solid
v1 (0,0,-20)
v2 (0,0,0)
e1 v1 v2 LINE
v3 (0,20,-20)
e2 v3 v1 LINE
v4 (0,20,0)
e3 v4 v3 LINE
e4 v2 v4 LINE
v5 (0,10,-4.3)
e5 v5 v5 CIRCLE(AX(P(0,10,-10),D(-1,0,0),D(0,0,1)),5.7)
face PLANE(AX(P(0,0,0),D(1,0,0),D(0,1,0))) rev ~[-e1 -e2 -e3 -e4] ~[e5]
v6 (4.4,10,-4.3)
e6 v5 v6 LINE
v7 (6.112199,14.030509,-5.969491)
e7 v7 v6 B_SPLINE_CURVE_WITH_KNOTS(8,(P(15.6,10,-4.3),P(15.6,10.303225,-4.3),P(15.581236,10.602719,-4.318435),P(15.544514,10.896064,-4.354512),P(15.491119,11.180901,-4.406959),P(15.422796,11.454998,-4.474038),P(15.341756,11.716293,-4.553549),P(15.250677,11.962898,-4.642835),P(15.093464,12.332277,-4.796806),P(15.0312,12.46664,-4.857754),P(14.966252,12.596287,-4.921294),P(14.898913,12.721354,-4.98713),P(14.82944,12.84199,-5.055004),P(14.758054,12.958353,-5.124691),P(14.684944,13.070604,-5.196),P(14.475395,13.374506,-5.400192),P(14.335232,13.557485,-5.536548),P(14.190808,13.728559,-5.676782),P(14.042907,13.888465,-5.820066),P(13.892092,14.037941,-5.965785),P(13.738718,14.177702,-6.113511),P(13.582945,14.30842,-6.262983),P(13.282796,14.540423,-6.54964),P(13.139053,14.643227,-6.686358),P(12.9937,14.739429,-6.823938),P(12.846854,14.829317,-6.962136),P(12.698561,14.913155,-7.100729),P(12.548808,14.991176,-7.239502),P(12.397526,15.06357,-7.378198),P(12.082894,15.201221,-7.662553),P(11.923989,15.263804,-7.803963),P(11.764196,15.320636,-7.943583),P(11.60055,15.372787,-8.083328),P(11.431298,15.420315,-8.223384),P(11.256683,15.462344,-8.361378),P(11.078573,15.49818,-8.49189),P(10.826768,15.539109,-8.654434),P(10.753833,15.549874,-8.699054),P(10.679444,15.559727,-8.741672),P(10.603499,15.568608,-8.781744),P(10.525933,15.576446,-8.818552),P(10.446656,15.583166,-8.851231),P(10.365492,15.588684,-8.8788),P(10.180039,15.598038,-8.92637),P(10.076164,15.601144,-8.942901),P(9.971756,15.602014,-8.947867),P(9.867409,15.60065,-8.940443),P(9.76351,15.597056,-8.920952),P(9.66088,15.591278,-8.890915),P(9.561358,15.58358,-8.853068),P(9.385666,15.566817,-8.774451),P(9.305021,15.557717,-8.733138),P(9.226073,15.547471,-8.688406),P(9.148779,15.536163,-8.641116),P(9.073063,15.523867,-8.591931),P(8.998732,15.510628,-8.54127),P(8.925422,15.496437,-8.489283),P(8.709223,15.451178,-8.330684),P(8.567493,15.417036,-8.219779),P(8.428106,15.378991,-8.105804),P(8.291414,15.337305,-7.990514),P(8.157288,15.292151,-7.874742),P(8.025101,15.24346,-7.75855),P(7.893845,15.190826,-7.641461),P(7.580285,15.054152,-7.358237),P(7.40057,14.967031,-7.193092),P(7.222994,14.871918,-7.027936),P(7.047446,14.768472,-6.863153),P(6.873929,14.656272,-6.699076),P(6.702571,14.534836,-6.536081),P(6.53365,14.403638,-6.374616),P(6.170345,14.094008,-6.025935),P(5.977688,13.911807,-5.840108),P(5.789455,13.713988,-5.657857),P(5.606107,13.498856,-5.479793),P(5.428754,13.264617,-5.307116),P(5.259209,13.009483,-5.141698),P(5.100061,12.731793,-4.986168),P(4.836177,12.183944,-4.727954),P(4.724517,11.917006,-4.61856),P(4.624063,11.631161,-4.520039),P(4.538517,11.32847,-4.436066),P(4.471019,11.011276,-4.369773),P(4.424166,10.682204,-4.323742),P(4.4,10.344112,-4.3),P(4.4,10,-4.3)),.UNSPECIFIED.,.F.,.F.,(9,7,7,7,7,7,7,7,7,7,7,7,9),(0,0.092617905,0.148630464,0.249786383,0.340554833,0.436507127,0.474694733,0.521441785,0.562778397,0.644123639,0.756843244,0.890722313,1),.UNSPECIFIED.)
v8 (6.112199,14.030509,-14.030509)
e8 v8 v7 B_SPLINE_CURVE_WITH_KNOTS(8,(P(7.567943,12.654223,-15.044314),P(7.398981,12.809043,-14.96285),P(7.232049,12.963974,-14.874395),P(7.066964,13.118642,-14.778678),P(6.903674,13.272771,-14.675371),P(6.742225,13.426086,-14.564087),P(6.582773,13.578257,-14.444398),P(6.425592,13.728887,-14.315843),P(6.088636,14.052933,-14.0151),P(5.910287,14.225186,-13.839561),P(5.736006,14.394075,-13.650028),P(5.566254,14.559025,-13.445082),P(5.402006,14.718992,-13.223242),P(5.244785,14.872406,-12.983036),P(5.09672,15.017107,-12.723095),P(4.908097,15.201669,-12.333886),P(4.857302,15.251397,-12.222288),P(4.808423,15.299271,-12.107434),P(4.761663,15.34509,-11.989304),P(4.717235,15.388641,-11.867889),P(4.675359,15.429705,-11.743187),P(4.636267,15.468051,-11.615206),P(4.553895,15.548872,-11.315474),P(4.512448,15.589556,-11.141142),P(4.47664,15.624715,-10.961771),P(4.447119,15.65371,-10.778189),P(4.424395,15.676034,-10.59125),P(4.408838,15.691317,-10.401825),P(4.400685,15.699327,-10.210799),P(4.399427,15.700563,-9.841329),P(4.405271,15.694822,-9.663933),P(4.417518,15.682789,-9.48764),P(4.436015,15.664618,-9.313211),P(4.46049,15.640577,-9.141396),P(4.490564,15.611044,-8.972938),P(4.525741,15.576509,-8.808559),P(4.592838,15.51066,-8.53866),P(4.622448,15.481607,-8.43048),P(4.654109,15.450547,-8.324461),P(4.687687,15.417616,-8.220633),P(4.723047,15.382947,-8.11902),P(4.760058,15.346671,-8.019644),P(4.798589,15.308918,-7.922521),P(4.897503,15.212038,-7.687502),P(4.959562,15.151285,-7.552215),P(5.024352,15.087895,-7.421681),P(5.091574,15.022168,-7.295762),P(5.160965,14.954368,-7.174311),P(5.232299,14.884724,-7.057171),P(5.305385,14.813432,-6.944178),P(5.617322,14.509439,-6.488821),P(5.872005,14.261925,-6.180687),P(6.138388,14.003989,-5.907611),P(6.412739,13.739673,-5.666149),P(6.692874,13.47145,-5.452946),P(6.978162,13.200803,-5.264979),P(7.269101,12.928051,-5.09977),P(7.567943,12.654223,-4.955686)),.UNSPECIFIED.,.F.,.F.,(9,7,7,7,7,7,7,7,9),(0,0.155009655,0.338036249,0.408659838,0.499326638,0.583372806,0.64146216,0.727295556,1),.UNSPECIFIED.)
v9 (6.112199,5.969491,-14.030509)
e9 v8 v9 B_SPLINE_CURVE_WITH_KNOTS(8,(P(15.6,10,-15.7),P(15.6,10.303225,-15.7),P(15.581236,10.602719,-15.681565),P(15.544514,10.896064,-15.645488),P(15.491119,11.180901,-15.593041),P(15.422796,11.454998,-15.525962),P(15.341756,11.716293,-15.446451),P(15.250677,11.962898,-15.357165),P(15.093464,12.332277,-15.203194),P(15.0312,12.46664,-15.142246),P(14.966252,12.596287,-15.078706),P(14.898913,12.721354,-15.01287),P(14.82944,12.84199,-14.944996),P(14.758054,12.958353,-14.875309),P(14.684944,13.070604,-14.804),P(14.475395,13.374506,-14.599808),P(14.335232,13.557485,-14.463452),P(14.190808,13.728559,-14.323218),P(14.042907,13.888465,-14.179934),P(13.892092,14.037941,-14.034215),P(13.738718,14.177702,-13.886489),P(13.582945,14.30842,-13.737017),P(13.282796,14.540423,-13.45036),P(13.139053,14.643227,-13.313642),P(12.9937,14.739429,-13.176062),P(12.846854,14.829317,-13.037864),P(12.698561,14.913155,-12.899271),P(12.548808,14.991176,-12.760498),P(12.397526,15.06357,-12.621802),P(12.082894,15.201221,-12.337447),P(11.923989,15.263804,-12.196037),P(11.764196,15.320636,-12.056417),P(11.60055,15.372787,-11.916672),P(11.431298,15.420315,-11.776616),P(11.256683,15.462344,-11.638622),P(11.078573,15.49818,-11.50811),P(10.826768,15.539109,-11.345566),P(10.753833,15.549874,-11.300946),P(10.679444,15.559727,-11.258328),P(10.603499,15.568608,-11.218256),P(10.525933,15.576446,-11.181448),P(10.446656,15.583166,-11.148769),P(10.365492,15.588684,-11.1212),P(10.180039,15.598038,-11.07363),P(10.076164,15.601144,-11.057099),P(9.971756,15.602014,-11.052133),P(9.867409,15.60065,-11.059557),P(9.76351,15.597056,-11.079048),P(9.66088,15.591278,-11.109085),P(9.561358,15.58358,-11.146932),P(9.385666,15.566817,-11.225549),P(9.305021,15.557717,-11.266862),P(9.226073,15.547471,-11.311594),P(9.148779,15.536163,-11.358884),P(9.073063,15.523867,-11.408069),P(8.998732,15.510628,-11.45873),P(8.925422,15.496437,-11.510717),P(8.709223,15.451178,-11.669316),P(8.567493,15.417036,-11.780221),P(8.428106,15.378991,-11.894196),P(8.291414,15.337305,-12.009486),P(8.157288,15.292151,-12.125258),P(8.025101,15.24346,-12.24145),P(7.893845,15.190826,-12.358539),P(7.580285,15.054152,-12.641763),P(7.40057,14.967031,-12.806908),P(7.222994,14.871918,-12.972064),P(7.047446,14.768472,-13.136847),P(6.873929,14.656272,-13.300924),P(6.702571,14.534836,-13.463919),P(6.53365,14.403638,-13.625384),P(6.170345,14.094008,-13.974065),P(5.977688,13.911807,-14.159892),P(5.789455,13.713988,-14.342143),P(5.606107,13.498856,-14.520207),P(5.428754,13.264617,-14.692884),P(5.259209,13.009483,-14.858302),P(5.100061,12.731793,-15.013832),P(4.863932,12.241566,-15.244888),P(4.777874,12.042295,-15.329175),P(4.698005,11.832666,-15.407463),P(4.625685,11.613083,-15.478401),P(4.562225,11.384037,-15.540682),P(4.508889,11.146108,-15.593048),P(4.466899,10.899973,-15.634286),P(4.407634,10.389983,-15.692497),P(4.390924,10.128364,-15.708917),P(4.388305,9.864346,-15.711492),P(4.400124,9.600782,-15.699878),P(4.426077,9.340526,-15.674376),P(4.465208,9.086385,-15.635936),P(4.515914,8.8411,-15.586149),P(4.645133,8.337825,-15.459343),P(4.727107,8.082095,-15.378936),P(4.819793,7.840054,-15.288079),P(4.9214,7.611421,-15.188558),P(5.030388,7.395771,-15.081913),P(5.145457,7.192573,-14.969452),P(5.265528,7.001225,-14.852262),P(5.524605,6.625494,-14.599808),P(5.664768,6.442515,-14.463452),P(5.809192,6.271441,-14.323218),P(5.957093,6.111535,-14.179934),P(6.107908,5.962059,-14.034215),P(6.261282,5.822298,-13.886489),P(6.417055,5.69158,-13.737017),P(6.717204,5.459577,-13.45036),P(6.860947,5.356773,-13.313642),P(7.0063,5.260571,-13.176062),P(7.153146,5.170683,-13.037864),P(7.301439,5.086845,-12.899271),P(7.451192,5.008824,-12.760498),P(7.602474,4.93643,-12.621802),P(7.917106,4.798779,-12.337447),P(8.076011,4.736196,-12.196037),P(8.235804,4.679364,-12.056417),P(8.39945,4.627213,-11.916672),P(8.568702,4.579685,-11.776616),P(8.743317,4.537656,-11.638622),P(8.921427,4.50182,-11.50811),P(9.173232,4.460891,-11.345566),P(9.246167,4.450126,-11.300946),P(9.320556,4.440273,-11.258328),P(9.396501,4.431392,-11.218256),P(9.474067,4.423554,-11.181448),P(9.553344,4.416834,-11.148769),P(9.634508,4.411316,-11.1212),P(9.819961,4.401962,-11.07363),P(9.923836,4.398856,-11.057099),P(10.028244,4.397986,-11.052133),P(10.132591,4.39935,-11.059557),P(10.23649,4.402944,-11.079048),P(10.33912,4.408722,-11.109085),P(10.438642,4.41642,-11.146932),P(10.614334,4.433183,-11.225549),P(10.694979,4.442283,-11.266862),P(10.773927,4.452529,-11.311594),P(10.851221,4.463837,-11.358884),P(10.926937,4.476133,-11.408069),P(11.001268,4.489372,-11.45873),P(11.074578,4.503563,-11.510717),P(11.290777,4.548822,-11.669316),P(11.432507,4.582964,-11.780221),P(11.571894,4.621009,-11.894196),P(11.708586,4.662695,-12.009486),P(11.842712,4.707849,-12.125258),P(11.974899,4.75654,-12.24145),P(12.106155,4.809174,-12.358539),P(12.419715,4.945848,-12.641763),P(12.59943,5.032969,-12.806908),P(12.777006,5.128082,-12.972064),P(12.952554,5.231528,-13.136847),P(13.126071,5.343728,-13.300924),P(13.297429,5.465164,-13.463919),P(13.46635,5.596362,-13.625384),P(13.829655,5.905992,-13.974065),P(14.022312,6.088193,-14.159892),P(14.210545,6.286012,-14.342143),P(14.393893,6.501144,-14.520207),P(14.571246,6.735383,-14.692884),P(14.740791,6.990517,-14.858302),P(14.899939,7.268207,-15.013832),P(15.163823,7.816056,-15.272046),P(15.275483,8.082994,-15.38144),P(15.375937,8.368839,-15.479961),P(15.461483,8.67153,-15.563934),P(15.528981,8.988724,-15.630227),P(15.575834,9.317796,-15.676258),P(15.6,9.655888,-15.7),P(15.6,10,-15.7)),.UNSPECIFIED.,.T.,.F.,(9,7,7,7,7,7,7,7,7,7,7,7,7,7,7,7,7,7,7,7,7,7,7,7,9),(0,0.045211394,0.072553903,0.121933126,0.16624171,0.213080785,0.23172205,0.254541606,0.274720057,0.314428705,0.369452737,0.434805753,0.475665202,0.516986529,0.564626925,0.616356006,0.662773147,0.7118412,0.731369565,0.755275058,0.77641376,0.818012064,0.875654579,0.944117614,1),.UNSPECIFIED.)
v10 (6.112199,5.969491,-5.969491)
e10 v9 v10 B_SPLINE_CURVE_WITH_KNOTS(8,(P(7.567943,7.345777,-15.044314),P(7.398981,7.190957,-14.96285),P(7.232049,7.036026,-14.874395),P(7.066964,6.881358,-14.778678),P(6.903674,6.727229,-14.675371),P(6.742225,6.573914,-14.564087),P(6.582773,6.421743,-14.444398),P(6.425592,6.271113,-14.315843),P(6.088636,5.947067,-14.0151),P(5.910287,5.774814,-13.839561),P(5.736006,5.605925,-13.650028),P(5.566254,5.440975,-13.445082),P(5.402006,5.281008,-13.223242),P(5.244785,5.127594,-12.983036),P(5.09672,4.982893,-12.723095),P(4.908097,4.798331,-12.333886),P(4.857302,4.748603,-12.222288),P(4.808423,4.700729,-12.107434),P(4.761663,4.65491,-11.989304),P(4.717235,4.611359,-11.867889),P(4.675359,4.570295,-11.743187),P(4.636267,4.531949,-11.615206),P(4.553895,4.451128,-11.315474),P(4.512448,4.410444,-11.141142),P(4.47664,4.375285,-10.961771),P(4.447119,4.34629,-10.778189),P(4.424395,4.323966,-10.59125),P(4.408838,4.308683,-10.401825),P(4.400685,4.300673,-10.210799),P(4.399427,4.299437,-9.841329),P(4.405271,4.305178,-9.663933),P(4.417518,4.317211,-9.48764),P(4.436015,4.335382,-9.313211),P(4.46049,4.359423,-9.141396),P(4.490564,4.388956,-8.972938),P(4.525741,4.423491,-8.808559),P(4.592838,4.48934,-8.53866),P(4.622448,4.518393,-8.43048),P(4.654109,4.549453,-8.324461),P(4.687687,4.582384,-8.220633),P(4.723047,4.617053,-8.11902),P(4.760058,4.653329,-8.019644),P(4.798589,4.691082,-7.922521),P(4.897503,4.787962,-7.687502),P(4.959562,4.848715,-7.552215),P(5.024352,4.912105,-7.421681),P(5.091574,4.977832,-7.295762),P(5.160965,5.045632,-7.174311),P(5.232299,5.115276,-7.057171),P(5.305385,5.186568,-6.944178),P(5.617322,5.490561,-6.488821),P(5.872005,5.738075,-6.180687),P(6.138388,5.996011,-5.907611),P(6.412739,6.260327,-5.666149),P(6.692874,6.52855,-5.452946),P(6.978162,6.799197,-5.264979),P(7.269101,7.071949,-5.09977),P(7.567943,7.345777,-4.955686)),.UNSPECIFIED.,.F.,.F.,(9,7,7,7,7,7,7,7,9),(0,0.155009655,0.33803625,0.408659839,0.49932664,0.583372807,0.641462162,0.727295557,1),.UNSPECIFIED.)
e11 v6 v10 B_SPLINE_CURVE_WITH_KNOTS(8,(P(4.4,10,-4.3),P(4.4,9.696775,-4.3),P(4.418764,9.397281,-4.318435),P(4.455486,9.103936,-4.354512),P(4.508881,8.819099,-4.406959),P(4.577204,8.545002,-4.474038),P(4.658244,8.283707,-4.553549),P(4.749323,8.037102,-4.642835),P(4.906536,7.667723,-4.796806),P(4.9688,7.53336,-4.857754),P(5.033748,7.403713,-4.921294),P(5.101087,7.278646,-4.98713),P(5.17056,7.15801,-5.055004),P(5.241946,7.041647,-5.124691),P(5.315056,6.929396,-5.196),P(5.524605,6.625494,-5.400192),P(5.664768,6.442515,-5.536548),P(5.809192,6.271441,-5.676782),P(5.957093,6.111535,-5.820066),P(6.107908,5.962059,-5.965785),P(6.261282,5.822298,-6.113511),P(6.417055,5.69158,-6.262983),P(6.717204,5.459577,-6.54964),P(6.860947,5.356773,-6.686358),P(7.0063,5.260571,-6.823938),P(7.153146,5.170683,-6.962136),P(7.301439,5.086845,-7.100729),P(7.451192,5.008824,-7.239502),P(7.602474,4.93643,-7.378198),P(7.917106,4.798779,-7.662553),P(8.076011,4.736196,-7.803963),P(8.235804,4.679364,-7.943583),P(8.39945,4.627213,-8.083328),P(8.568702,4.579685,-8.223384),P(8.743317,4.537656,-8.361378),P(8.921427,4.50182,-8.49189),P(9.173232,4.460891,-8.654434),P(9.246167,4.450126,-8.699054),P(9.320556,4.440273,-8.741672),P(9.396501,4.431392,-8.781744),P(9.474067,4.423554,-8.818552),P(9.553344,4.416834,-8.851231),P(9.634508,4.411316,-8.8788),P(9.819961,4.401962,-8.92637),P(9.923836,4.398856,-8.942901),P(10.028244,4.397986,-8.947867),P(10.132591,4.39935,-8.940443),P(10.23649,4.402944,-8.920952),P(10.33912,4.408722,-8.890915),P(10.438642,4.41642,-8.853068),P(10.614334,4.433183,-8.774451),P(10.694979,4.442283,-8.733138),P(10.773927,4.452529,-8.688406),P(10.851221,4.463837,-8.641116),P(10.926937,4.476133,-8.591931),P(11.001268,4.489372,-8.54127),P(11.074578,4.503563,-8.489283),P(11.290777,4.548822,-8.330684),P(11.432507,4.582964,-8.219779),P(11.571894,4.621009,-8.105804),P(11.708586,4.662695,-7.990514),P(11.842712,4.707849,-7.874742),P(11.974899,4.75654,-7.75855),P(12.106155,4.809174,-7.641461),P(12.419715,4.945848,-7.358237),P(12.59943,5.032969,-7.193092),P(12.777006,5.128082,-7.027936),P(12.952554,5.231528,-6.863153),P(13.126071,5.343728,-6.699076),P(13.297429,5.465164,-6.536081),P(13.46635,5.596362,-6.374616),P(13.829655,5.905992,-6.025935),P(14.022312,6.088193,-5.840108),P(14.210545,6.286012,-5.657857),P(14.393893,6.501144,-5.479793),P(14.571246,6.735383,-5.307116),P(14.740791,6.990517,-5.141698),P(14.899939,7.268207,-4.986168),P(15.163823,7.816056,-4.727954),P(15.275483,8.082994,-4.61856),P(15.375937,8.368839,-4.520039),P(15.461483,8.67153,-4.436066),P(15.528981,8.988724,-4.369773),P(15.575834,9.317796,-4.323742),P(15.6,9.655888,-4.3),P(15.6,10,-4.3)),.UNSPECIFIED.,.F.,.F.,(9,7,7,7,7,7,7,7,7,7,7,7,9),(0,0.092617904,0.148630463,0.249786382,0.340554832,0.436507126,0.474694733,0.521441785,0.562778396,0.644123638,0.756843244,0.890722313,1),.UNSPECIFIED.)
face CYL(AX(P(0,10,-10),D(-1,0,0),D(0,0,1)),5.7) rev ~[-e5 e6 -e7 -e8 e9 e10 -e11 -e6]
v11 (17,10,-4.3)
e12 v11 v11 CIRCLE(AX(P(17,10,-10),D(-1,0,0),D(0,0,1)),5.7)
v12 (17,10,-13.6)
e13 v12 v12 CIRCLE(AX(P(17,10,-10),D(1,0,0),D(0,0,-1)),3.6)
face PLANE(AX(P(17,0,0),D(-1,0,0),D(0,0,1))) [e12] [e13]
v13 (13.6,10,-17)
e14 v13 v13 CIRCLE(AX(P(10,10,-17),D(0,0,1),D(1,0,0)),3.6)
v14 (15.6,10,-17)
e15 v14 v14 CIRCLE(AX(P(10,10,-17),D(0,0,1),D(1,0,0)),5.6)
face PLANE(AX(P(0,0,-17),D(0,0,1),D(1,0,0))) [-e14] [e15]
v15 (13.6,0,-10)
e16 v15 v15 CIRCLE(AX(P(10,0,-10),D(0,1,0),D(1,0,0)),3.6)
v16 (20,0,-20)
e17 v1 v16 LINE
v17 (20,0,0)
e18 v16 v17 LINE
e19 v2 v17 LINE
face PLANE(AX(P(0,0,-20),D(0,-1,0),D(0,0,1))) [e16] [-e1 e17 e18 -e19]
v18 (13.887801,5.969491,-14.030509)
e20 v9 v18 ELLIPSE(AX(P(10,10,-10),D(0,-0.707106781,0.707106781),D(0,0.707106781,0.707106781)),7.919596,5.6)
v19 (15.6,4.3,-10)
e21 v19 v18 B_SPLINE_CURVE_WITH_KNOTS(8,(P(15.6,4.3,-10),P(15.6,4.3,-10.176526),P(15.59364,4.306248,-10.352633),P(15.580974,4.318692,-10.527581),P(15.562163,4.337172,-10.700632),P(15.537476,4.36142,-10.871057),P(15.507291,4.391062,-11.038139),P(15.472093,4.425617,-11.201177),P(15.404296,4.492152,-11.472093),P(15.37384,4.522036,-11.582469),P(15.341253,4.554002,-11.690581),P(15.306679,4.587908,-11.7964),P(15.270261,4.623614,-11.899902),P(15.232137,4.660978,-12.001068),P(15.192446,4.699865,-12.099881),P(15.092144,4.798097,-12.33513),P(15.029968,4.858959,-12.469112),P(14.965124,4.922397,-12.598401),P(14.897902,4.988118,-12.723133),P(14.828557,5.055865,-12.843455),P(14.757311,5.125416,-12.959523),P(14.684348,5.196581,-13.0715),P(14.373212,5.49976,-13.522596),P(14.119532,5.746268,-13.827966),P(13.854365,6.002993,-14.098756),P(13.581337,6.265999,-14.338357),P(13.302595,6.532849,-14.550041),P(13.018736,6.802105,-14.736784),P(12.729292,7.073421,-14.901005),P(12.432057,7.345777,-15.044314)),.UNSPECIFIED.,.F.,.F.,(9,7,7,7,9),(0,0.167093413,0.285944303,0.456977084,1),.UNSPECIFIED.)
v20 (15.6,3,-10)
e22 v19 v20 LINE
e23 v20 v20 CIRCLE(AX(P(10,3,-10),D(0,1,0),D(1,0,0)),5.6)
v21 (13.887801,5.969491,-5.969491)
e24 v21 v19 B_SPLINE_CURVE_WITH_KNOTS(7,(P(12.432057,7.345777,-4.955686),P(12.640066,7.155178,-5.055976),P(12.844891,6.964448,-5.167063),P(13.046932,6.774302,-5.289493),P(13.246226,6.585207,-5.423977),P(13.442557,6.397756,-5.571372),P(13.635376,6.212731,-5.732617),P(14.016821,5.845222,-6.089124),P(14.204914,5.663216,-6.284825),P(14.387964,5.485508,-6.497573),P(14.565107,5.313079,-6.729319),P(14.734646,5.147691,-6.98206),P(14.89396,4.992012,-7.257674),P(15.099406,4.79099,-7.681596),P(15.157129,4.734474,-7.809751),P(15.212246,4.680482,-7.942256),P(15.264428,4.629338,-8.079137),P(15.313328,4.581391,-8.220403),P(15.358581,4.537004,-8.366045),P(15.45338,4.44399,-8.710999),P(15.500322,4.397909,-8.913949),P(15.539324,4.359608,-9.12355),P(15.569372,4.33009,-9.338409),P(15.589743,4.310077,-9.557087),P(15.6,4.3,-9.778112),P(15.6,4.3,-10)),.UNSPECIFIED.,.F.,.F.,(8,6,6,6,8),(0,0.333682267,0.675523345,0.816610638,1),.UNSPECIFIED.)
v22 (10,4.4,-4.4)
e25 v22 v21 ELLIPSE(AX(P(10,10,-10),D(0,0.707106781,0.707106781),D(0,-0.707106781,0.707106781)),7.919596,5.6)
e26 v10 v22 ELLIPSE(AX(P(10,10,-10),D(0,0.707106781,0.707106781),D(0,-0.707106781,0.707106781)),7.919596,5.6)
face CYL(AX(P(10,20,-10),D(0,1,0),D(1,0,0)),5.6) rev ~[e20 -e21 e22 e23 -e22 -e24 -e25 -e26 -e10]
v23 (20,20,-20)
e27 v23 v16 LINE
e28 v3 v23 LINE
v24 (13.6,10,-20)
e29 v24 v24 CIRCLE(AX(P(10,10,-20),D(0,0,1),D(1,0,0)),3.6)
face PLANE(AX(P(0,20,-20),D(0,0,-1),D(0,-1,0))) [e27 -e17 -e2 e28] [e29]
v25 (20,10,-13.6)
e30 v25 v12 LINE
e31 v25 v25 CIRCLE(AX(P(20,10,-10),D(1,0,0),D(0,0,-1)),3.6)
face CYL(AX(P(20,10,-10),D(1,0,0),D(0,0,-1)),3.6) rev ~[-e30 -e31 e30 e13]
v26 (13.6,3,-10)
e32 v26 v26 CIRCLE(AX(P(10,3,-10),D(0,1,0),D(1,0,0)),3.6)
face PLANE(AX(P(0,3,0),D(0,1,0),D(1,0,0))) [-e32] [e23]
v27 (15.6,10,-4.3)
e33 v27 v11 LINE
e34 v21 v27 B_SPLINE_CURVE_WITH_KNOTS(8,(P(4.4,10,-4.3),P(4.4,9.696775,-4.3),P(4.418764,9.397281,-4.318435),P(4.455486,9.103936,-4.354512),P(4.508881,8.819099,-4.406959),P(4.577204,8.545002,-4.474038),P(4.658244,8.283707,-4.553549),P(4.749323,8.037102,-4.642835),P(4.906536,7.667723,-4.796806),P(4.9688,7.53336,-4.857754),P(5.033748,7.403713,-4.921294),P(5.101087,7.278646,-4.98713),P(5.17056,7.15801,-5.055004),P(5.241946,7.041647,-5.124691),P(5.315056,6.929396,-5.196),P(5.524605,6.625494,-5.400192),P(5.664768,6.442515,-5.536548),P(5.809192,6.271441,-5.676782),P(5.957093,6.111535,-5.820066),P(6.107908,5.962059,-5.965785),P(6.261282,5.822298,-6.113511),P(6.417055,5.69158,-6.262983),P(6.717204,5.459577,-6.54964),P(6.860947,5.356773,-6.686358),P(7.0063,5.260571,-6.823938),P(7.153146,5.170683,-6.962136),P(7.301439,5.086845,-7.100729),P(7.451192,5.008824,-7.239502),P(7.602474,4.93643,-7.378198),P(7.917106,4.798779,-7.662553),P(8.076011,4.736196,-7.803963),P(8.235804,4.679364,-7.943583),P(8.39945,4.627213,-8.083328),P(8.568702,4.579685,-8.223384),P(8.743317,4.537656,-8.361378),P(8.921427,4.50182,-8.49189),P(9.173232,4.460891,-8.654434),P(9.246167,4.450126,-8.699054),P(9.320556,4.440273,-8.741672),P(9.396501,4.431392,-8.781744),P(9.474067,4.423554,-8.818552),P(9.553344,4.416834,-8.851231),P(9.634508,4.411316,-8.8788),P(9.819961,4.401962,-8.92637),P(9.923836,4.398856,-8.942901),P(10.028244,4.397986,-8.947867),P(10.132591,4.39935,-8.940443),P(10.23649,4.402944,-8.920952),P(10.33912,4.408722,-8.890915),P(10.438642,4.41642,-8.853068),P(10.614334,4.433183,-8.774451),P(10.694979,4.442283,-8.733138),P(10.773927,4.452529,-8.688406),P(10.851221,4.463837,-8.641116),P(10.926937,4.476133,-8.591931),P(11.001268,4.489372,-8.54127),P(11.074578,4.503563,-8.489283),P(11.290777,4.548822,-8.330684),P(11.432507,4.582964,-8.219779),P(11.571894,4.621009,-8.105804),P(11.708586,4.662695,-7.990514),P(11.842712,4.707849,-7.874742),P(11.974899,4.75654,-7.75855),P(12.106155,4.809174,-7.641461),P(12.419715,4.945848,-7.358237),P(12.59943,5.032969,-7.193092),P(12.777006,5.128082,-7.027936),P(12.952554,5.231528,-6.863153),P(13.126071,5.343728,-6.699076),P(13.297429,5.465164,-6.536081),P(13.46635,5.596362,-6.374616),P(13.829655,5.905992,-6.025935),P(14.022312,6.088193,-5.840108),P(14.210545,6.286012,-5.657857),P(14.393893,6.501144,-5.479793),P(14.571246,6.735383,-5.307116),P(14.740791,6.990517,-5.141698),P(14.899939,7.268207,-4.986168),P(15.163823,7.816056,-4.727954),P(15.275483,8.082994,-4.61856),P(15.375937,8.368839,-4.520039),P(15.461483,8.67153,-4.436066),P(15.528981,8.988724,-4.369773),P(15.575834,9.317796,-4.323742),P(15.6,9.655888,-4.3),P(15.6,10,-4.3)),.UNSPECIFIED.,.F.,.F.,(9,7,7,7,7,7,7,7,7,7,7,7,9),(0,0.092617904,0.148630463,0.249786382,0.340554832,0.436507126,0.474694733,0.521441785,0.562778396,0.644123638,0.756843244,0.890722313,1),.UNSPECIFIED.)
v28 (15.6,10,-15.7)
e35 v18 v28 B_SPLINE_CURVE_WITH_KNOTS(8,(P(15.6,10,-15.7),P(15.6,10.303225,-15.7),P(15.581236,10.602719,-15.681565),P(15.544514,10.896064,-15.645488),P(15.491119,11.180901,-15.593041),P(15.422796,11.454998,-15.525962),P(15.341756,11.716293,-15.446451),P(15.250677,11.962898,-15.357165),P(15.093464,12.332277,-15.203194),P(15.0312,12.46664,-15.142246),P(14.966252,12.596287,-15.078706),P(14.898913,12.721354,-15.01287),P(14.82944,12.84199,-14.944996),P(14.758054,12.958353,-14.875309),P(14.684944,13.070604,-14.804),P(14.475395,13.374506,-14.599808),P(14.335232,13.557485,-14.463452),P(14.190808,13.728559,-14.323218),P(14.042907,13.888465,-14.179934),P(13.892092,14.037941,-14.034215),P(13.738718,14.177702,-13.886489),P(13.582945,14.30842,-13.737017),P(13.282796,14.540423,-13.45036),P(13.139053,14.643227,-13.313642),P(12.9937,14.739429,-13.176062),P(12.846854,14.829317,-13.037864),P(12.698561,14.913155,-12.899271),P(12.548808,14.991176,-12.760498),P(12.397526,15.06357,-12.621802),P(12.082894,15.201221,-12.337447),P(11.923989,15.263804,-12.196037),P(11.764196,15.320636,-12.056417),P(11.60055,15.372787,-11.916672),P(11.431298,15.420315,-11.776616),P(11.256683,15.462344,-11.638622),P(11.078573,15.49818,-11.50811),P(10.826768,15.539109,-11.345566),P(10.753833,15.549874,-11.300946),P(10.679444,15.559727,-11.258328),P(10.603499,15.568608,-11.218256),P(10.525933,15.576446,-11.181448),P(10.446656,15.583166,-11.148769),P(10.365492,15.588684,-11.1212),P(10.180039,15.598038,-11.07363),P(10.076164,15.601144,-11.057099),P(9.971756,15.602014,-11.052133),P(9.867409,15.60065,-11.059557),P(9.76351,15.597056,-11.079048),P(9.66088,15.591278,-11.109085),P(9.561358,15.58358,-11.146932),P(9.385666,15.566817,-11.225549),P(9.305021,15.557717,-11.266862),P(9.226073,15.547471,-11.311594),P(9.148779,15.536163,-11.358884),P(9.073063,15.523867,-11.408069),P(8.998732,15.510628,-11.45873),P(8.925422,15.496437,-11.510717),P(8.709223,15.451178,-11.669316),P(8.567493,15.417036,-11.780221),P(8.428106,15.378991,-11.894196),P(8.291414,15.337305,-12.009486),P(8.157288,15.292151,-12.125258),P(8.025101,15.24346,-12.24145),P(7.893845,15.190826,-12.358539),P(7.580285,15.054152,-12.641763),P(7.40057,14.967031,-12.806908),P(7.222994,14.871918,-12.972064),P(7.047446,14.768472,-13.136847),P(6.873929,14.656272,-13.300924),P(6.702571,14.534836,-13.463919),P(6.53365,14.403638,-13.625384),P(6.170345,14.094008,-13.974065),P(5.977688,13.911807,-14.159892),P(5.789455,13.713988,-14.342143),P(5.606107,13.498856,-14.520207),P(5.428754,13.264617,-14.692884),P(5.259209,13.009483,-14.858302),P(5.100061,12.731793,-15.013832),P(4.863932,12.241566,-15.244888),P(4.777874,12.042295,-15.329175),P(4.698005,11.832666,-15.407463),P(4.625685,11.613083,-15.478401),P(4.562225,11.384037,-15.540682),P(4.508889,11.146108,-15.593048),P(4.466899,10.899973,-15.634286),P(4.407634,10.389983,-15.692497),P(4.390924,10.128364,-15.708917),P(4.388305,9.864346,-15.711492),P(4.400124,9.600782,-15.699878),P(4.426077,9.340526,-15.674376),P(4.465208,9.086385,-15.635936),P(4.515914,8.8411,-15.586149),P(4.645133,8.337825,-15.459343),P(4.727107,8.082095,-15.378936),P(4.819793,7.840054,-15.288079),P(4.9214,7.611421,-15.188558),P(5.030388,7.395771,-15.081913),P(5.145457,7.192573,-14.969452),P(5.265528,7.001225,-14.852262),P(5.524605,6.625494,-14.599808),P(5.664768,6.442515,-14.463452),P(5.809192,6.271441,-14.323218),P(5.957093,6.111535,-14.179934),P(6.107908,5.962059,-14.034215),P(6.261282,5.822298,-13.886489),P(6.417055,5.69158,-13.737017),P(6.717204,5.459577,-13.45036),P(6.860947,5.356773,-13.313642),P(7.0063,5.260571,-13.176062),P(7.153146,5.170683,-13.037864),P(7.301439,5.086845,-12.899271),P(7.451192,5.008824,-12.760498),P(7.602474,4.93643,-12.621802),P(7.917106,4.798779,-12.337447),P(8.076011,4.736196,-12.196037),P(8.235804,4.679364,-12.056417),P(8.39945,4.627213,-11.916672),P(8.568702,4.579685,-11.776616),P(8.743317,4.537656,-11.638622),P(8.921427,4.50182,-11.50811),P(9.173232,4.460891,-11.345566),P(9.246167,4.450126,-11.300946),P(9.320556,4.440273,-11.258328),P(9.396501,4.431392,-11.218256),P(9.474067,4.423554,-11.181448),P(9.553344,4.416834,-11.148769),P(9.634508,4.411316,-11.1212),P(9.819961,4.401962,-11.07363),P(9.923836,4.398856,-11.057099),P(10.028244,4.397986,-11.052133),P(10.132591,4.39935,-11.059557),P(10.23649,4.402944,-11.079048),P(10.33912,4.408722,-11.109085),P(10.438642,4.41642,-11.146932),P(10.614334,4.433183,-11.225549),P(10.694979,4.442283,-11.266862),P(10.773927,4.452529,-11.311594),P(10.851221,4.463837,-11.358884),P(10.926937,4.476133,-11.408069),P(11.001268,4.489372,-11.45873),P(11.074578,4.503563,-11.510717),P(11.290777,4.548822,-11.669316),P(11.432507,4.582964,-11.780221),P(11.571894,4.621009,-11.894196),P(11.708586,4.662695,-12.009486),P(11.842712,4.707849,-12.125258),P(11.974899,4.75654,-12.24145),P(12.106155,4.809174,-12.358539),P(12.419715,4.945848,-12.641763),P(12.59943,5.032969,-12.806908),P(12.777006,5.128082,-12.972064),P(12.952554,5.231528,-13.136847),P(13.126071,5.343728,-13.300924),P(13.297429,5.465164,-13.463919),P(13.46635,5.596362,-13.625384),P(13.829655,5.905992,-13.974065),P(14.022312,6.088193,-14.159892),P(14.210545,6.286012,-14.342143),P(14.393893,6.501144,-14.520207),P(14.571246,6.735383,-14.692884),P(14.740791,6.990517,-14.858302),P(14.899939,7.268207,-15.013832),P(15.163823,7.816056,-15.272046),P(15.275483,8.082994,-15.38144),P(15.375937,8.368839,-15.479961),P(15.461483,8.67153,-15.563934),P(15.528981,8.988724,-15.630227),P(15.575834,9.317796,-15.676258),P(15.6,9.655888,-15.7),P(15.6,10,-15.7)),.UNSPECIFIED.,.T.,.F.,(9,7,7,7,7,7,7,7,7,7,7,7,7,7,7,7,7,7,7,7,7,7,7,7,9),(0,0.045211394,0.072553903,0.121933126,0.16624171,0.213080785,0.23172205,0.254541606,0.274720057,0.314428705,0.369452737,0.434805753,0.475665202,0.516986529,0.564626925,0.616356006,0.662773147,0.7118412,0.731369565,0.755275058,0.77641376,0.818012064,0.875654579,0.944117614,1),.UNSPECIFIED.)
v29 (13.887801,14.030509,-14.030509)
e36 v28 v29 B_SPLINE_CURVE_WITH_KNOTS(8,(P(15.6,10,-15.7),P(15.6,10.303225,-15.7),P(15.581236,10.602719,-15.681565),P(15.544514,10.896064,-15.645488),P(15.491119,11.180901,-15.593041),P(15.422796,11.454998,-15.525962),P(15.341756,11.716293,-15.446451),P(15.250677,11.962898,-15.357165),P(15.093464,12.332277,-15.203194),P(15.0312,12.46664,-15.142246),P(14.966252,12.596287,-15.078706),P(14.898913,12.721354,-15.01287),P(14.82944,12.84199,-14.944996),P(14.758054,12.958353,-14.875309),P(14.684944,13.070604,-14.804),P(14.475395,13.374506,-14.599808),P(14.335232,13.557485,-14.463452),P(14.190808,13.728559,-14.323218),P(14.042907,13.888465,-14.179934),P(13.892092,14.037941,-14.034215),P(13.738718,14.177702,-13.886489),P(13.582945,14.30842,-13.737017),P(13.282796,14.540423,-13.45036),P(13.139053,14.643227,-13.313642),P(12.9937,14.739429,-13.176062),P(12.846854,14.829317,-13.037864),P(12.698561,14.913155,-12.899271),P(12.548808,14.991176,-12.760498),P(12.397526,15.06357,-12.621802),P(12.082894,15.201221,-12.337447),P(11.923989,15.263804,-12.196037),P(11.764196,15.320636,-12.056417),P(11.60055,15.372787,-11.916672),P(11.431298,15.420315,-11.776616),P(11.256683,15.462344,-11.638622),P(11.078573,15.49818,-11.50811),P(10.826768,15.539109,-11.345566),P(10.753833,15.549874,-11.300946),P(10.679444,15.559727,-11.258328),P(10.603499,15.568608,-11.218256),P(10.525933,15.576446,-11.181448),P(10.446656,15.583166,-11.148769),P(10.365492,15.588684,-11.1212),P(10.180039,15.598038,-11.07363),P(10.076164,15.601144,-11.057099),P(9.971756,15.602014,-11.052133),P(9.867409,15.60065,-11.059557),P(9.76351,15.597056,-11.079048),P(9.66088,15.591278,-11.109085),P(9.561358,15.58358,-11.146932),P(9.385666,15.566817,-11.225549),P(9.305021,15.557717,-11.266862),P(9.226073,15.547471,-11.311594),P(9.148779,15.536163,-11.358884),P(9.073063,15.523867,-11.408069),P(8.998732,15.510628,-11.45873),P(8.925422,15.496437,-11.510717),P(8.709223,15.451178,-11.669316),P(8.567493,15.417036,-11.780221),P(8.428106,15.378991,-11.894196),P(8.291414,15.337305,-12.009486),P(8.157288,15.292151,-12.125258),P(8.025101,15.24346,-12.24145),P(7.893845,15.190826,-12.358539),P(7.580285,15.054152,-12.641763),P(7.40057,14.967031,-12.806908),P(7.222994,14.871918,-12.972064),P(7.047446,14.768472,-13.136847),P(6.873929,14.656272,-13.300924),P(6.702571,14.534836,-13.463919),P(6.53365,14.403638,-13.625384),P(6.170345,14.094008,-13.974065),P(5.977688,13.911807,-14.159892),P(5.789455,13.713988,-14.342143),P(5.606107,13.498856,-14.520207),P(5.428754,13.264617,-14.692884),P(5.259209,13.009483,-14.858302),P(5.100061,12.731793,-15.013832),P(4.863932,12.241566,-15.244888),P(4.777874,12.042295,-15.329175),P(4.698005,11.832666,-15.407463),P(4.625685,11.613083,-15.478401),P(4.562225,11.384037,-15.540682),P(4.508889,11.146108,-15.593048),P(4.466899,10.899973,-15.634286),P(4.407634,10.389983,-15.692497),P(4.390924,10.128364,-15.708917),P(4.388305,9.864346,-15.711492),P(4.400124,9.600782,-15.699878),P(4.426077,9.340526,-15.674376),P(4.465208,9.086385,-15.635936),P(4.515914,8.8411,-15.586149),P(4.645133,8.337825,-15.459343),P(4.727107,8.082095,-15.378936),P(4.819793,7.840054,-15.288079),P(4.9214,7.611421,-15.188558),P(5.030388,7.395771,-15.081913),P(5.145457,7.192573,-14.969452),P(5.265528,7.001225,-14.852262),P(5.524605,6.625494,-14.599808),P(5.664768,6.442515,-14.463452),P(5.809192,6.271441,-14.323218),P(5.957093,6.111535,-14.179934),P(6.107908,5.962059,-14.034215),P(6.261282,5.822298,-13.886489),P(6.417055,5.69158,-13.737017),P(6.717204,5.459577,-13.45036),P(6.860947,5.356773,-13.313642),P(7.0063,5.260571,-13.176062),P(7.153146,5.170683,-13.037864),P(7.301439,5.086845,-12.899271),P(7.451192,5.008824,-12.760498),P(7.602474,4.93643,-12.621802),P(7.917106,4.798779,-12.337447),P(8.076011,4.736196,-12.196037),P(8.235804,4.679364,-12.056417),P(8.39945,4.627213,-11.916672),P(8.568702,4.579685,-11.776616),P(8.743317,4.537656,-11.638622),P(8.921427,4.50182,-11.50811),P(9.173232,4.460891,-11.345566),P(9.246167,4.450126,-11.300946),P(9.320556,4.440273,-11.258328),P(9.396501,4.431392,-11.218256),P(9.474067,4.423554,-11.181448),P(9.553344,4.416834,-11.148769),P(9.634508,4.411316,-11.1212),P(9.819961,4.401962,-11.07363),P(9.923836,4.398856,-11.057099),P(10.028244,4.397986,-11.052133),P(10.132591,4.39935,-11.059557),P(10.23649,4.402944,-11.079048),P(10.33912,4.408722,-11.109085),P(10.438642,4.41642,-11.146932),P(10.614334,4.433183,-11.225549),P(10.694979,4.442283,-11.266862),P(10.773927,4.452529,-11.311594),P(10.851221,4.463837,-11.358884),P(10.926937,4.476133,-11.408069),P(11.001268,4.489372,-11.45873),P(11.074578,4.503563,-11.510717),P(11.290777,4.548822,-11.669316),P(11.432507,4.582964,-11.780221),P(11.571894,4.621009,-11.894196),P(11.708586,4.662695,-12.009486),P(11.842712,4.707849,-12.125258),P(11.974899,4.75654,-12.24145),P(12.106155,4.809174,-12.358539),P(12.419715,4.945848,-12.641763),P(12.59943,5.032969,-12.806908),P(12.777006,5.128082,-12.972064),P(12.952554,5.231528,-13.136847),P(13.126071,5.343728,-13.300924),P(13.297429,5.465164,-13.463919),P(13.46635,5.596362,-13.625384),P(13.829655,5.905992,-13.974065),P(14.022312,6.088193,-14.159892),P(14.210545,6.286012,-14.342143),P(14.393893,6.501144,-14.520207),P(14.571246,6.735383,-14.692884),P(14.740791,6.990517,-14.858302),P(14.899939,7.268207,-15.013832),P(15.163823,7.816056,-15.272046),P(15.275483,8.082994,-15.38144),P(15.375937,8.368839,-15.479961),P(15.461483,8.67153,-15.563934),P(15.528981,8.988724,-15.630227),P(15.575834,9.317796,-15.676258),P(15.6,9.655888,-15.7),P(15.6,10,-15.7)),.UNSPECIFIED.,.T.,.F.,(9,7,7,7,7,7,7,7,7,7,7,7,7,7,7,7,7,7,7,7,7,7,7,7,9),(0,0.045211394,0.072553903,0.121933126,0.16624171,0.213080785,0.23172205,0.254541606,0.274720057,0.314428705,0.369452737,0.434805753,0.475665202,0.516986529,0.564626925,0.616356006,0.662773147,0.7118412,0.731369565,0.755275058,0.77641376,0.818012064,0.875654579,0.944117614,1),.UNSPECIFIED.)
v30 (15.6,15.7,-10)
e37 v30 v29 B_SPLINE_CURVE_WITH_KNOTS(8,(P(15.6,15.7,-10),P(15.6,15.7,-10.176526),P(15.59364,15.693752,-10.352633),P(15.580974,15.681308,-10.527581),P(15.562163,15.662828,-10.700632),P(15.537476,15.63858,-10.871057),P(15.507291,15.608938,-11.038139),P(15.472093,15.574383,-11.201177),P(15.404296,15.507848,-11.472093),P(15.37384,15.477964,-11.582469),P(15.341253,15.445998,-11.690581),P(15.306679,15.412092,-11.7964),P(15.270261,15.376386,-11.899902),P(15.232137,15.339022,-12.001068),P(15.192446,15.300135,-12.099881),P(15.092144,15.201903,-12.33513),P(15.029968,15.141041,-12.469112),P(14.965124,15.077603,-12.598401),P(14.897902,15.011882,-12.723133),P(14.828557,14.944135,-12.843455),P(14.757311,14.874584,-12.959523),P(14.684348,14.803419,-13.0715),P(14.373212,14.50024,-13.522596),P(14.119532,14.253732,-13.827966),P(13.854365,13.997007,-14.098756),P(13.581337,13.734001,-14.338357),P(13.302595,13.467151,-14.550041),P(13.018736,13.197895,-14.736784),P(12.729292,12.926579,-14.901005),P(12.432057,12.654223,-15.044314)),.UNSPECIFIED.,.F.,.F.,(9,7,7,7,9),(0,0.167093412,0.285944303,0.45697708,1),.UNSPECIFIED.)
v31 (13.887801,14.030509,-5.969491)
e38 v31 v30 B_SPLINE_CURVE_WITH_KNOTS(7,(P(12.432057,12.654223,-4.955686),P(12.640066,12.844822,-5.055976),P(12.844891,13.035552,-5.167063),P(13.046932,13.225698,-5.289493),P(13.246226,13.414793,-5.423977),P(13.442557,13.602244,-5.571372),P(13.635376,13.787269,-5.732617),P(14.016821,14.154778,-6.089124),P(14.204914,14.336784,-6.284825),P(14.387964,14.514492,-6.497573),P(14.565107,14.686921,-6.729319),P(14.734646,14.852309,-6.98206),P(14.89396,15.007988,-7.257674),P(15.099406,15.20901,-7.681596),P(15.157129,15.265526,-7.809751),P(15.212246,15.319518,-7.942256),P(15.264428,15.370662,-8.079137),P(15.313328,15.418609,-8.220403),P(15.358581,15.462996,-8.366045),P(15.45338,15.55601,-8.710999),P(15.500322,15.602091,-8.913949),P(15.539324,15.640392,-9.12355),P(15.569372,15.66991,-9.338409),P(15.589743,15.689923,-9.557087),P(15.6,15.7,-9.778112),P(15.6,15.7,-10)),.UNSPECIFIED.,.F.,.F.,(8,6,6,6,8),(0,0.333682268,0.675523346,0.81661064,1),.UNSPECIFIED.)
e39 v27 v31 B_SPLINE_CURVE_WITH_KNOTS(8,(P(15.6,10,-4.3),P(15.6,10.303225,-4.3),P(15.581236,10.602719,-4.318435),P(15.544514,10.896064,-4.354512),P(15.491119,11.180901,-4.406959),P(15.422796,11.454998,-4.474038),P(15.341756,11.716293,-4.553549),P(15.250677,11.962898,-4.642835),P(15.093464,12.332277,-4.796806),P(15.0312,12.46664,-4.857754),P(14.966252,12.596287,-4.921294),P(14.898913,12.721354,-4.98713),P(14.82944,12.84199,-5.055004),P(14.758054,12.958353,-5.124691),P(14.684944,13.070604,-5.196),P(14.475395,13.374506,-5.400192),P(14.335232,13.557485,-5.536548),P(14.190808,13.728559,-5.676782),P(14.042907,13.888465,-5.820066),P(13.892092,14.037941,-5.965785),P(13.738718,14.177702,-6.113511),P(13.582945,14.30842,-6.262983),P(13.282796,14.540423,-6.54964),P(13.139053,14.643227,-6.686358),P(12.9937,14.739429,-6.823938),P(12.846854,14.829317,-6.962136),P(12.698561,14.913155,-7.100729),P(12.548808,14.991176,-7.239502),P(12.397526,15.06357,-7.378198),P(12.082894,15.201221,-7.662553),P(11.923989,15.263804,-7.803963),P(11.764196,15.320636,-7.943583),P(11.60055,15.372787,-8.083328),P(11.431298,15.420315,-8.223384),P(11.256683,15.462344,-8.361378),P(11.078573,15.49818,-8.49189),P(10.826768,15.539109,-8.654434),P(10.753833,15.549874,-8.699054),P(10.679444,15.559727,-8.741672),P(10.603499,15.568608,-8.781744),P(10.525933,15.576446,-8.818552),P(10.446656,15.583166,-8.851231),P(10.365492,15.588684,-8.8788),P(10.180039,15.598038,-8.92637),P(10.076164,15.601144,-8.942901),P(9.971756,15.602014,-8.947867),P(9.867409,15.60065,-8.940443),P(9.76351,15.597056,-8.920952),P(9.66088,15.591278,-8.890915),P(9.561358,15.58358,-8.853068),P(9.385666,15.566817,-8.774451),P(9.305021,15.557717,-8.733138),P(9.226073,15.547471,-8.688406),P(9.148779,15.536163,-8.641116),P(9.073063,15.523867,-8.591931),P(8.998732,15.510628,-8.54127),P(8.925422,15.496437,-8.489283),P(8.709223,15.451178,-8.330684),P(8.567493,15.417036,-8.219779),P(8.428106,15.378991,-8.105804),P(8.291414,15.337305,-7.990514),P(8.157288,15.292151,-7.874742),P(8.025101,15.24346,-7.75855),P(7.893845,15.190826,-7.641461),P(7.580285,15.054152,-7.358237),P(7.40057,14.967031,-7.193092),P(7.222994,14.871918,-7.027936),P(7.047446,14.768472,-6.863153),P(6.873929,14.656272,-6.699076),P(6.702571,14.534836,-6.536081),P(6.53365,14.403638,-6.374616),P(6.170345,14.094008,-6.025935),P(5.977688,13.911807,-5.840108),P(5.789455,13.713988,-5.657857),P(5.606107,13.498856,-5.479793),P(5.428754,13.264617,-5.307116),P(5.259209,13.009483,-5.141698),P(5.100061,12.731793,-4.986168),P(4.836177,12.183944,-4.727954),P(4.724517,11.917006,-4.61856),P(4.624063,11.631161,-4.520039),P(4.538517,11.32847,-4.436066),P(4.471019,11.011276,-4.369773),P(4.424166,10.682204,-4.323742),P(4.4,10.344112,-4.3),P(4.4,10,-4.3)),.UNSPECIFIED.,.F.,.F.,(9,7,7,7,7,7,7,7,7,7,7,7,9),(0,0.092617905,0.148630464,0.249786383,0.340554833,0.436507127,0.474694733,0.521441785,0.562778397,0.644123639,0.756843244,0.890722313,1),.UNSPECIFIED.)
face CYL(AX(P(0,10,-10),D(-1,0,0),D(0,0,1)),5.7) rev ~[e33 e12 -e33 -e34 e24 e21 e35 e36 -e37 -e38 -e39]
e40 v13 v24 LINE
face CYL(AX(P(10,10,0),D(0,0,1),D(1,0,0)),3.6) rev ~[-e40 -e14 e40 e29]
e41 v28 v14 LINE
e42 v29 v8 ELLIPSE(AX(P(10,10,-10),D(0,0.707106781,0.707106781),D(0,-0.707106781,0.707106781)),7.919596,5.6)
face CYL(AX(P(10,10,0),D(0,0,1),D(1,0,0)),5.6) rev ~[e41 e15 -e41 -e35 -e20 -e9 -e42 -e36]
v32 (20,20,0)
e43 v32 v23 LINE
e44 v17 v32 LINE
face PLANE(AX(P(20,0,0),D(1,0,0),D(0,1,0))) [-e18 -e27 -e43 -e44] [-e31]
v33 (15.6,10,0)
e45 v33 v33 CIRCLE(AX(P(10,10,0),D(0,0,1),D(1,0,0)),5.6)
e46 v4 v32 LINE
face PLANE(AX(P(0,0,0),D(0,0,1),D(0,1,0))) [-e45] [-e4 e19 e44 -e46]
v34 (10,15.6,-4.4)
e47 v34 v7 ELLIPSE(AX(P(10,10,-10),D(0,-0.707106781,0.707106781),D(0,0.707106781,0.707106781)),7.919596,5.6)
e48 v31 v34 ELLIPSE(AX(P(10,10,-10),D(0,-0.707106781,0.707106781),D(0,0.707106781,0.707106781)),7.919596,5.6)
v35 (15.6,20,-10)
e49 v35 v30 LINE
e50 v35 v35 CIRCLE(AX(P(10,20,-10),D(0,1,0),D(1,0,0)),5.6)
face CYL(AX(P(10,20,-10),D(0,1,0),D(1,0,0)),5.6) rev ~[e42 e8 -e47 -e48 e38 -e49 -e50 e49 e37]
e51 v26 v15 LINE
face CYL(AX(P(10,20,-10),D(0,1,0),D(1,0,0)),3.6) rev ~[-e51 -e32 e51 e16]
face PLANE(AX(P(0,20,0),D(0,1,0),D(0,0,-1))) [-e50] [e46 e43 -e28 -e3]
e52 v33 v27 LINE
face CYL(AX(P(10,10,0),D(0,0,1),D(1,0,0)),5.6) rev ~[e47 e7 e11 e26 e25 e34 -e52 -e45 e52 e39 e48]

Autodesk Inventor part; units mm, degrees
ref_plane "YZ Plane" through (0, 0, 0) normal (1, 0, 0) x (0, 1, 0)
ref_plane "XZ Plane" through (0, 0, 0) normal (0, 1, 0) x (-1, 0, 0)
ref_plane "XY Plane" through (0, 0, 0) normal (0, 0, 1) x (1, 0, 0)
sketch "Sketch1" plane through (0, 0, 0) normal (1, 0, 0) x (0, 1, 0)
  line L0 (0, 0) -> (20, 0)
  line L1 (20, 0) -> (20, -20)
  line L2 (20, -20) -> (0, -20)
  line L3 (0, -20) -> (0, 0)
  dimension "d0" = 20
  dimension "d1" = 20
extrude "Extrusion1" add sketch "Sketch1" along normal blind 20
sketch "Sketch2" plane through (0, 0, 0) normal (0, 0, 1) x (1, 0, 0)
  circle A0 centre (10, 10) radius 3.6
  line L0 (0, 20) -> (0, 0) projected
  line L1 (0, 20) -> (20, 20) projected
  dimension "d4" = 10
  dimension "d5" = 10
  dimension "d6" = 7.2
extrude "Extrusion2" cut sketch "Sketch2" against normal blind 20
sketch "Sketch3" plane through (20, 0, 0) normal (1, 0, 0) x (0, 0, -1)
  circle A0 centre (10, 10) radius 3.6
  line L0 (20, 20) -> (0, 20) projected
  line L1 (0, 20) -> (0, 0) projected
  dimension "d9" = 10
  dimension "d10" = 10
  dimension "d11" = 7.2
extrude "Extrusion3" cut sketch "Sketch3" against normal blind 20
sketch "Sketch4" plane through (0, 20, 0) normal (0, 1, 0) x (1, 0, 0)
  line L0 (13.6, 6.4) -> (10, 10) projected
  circle A0 centre (10, 10) radius 3.6
  line L1 (20, 20) -> (20, 0) projected
  line L2 (0, 0) -> (20, 0) projected
  dimension "d14" = 7.2
  dimension "d15" = 10
  dimension "d16" = 10
extrude "Extrusion4" cut sketch "Sketch4" against normal blind 20
sketch "Sketch5" plane through (0, 0, 0) normal (-1, 0, 0) x (0, 0, 1)
  circle A0 centre (-10, 10) radius 3.6 projected
  circle A1 centre (-10, 10) radius 5.7
  point P0 (0, 0)
  dimension "d19" = 11.4
extrude "Extrusion5" cut sketch "Sketch5" against normal blind 17 contours A0 | A1
sketch "Sketch6" plane through (0, 0, 0) normal (0, 0, 1) x (1, 0, 0)
  circle A0 centre (10, 10) radius 3.6 projected
  circle A1 centre (10, 10) radius 5.6
  point P0 (0, 0)
  dimension "d22" = 11.2
extrude "Extrusion6" cut sketch "Sketch6" against normal blind 17 contours A0 | A1
sketch "Sketch7" plane through (0, 20, 0) normal (0, 1, 0) x (1, 0, 0)
  circle A0 centre (10, 10) radius 3.6 projected
  circle A1 centre (10, 10) radius 5.6
  point P0 (0, 0)
  dimension "d25" = 11.2
extrude "Extrusion7" cut sketch "Sketch7" against normal blind 17 contours A0 | A1
properties part number "2020CubeConnector" material "Aluminum 6061-AHC"
